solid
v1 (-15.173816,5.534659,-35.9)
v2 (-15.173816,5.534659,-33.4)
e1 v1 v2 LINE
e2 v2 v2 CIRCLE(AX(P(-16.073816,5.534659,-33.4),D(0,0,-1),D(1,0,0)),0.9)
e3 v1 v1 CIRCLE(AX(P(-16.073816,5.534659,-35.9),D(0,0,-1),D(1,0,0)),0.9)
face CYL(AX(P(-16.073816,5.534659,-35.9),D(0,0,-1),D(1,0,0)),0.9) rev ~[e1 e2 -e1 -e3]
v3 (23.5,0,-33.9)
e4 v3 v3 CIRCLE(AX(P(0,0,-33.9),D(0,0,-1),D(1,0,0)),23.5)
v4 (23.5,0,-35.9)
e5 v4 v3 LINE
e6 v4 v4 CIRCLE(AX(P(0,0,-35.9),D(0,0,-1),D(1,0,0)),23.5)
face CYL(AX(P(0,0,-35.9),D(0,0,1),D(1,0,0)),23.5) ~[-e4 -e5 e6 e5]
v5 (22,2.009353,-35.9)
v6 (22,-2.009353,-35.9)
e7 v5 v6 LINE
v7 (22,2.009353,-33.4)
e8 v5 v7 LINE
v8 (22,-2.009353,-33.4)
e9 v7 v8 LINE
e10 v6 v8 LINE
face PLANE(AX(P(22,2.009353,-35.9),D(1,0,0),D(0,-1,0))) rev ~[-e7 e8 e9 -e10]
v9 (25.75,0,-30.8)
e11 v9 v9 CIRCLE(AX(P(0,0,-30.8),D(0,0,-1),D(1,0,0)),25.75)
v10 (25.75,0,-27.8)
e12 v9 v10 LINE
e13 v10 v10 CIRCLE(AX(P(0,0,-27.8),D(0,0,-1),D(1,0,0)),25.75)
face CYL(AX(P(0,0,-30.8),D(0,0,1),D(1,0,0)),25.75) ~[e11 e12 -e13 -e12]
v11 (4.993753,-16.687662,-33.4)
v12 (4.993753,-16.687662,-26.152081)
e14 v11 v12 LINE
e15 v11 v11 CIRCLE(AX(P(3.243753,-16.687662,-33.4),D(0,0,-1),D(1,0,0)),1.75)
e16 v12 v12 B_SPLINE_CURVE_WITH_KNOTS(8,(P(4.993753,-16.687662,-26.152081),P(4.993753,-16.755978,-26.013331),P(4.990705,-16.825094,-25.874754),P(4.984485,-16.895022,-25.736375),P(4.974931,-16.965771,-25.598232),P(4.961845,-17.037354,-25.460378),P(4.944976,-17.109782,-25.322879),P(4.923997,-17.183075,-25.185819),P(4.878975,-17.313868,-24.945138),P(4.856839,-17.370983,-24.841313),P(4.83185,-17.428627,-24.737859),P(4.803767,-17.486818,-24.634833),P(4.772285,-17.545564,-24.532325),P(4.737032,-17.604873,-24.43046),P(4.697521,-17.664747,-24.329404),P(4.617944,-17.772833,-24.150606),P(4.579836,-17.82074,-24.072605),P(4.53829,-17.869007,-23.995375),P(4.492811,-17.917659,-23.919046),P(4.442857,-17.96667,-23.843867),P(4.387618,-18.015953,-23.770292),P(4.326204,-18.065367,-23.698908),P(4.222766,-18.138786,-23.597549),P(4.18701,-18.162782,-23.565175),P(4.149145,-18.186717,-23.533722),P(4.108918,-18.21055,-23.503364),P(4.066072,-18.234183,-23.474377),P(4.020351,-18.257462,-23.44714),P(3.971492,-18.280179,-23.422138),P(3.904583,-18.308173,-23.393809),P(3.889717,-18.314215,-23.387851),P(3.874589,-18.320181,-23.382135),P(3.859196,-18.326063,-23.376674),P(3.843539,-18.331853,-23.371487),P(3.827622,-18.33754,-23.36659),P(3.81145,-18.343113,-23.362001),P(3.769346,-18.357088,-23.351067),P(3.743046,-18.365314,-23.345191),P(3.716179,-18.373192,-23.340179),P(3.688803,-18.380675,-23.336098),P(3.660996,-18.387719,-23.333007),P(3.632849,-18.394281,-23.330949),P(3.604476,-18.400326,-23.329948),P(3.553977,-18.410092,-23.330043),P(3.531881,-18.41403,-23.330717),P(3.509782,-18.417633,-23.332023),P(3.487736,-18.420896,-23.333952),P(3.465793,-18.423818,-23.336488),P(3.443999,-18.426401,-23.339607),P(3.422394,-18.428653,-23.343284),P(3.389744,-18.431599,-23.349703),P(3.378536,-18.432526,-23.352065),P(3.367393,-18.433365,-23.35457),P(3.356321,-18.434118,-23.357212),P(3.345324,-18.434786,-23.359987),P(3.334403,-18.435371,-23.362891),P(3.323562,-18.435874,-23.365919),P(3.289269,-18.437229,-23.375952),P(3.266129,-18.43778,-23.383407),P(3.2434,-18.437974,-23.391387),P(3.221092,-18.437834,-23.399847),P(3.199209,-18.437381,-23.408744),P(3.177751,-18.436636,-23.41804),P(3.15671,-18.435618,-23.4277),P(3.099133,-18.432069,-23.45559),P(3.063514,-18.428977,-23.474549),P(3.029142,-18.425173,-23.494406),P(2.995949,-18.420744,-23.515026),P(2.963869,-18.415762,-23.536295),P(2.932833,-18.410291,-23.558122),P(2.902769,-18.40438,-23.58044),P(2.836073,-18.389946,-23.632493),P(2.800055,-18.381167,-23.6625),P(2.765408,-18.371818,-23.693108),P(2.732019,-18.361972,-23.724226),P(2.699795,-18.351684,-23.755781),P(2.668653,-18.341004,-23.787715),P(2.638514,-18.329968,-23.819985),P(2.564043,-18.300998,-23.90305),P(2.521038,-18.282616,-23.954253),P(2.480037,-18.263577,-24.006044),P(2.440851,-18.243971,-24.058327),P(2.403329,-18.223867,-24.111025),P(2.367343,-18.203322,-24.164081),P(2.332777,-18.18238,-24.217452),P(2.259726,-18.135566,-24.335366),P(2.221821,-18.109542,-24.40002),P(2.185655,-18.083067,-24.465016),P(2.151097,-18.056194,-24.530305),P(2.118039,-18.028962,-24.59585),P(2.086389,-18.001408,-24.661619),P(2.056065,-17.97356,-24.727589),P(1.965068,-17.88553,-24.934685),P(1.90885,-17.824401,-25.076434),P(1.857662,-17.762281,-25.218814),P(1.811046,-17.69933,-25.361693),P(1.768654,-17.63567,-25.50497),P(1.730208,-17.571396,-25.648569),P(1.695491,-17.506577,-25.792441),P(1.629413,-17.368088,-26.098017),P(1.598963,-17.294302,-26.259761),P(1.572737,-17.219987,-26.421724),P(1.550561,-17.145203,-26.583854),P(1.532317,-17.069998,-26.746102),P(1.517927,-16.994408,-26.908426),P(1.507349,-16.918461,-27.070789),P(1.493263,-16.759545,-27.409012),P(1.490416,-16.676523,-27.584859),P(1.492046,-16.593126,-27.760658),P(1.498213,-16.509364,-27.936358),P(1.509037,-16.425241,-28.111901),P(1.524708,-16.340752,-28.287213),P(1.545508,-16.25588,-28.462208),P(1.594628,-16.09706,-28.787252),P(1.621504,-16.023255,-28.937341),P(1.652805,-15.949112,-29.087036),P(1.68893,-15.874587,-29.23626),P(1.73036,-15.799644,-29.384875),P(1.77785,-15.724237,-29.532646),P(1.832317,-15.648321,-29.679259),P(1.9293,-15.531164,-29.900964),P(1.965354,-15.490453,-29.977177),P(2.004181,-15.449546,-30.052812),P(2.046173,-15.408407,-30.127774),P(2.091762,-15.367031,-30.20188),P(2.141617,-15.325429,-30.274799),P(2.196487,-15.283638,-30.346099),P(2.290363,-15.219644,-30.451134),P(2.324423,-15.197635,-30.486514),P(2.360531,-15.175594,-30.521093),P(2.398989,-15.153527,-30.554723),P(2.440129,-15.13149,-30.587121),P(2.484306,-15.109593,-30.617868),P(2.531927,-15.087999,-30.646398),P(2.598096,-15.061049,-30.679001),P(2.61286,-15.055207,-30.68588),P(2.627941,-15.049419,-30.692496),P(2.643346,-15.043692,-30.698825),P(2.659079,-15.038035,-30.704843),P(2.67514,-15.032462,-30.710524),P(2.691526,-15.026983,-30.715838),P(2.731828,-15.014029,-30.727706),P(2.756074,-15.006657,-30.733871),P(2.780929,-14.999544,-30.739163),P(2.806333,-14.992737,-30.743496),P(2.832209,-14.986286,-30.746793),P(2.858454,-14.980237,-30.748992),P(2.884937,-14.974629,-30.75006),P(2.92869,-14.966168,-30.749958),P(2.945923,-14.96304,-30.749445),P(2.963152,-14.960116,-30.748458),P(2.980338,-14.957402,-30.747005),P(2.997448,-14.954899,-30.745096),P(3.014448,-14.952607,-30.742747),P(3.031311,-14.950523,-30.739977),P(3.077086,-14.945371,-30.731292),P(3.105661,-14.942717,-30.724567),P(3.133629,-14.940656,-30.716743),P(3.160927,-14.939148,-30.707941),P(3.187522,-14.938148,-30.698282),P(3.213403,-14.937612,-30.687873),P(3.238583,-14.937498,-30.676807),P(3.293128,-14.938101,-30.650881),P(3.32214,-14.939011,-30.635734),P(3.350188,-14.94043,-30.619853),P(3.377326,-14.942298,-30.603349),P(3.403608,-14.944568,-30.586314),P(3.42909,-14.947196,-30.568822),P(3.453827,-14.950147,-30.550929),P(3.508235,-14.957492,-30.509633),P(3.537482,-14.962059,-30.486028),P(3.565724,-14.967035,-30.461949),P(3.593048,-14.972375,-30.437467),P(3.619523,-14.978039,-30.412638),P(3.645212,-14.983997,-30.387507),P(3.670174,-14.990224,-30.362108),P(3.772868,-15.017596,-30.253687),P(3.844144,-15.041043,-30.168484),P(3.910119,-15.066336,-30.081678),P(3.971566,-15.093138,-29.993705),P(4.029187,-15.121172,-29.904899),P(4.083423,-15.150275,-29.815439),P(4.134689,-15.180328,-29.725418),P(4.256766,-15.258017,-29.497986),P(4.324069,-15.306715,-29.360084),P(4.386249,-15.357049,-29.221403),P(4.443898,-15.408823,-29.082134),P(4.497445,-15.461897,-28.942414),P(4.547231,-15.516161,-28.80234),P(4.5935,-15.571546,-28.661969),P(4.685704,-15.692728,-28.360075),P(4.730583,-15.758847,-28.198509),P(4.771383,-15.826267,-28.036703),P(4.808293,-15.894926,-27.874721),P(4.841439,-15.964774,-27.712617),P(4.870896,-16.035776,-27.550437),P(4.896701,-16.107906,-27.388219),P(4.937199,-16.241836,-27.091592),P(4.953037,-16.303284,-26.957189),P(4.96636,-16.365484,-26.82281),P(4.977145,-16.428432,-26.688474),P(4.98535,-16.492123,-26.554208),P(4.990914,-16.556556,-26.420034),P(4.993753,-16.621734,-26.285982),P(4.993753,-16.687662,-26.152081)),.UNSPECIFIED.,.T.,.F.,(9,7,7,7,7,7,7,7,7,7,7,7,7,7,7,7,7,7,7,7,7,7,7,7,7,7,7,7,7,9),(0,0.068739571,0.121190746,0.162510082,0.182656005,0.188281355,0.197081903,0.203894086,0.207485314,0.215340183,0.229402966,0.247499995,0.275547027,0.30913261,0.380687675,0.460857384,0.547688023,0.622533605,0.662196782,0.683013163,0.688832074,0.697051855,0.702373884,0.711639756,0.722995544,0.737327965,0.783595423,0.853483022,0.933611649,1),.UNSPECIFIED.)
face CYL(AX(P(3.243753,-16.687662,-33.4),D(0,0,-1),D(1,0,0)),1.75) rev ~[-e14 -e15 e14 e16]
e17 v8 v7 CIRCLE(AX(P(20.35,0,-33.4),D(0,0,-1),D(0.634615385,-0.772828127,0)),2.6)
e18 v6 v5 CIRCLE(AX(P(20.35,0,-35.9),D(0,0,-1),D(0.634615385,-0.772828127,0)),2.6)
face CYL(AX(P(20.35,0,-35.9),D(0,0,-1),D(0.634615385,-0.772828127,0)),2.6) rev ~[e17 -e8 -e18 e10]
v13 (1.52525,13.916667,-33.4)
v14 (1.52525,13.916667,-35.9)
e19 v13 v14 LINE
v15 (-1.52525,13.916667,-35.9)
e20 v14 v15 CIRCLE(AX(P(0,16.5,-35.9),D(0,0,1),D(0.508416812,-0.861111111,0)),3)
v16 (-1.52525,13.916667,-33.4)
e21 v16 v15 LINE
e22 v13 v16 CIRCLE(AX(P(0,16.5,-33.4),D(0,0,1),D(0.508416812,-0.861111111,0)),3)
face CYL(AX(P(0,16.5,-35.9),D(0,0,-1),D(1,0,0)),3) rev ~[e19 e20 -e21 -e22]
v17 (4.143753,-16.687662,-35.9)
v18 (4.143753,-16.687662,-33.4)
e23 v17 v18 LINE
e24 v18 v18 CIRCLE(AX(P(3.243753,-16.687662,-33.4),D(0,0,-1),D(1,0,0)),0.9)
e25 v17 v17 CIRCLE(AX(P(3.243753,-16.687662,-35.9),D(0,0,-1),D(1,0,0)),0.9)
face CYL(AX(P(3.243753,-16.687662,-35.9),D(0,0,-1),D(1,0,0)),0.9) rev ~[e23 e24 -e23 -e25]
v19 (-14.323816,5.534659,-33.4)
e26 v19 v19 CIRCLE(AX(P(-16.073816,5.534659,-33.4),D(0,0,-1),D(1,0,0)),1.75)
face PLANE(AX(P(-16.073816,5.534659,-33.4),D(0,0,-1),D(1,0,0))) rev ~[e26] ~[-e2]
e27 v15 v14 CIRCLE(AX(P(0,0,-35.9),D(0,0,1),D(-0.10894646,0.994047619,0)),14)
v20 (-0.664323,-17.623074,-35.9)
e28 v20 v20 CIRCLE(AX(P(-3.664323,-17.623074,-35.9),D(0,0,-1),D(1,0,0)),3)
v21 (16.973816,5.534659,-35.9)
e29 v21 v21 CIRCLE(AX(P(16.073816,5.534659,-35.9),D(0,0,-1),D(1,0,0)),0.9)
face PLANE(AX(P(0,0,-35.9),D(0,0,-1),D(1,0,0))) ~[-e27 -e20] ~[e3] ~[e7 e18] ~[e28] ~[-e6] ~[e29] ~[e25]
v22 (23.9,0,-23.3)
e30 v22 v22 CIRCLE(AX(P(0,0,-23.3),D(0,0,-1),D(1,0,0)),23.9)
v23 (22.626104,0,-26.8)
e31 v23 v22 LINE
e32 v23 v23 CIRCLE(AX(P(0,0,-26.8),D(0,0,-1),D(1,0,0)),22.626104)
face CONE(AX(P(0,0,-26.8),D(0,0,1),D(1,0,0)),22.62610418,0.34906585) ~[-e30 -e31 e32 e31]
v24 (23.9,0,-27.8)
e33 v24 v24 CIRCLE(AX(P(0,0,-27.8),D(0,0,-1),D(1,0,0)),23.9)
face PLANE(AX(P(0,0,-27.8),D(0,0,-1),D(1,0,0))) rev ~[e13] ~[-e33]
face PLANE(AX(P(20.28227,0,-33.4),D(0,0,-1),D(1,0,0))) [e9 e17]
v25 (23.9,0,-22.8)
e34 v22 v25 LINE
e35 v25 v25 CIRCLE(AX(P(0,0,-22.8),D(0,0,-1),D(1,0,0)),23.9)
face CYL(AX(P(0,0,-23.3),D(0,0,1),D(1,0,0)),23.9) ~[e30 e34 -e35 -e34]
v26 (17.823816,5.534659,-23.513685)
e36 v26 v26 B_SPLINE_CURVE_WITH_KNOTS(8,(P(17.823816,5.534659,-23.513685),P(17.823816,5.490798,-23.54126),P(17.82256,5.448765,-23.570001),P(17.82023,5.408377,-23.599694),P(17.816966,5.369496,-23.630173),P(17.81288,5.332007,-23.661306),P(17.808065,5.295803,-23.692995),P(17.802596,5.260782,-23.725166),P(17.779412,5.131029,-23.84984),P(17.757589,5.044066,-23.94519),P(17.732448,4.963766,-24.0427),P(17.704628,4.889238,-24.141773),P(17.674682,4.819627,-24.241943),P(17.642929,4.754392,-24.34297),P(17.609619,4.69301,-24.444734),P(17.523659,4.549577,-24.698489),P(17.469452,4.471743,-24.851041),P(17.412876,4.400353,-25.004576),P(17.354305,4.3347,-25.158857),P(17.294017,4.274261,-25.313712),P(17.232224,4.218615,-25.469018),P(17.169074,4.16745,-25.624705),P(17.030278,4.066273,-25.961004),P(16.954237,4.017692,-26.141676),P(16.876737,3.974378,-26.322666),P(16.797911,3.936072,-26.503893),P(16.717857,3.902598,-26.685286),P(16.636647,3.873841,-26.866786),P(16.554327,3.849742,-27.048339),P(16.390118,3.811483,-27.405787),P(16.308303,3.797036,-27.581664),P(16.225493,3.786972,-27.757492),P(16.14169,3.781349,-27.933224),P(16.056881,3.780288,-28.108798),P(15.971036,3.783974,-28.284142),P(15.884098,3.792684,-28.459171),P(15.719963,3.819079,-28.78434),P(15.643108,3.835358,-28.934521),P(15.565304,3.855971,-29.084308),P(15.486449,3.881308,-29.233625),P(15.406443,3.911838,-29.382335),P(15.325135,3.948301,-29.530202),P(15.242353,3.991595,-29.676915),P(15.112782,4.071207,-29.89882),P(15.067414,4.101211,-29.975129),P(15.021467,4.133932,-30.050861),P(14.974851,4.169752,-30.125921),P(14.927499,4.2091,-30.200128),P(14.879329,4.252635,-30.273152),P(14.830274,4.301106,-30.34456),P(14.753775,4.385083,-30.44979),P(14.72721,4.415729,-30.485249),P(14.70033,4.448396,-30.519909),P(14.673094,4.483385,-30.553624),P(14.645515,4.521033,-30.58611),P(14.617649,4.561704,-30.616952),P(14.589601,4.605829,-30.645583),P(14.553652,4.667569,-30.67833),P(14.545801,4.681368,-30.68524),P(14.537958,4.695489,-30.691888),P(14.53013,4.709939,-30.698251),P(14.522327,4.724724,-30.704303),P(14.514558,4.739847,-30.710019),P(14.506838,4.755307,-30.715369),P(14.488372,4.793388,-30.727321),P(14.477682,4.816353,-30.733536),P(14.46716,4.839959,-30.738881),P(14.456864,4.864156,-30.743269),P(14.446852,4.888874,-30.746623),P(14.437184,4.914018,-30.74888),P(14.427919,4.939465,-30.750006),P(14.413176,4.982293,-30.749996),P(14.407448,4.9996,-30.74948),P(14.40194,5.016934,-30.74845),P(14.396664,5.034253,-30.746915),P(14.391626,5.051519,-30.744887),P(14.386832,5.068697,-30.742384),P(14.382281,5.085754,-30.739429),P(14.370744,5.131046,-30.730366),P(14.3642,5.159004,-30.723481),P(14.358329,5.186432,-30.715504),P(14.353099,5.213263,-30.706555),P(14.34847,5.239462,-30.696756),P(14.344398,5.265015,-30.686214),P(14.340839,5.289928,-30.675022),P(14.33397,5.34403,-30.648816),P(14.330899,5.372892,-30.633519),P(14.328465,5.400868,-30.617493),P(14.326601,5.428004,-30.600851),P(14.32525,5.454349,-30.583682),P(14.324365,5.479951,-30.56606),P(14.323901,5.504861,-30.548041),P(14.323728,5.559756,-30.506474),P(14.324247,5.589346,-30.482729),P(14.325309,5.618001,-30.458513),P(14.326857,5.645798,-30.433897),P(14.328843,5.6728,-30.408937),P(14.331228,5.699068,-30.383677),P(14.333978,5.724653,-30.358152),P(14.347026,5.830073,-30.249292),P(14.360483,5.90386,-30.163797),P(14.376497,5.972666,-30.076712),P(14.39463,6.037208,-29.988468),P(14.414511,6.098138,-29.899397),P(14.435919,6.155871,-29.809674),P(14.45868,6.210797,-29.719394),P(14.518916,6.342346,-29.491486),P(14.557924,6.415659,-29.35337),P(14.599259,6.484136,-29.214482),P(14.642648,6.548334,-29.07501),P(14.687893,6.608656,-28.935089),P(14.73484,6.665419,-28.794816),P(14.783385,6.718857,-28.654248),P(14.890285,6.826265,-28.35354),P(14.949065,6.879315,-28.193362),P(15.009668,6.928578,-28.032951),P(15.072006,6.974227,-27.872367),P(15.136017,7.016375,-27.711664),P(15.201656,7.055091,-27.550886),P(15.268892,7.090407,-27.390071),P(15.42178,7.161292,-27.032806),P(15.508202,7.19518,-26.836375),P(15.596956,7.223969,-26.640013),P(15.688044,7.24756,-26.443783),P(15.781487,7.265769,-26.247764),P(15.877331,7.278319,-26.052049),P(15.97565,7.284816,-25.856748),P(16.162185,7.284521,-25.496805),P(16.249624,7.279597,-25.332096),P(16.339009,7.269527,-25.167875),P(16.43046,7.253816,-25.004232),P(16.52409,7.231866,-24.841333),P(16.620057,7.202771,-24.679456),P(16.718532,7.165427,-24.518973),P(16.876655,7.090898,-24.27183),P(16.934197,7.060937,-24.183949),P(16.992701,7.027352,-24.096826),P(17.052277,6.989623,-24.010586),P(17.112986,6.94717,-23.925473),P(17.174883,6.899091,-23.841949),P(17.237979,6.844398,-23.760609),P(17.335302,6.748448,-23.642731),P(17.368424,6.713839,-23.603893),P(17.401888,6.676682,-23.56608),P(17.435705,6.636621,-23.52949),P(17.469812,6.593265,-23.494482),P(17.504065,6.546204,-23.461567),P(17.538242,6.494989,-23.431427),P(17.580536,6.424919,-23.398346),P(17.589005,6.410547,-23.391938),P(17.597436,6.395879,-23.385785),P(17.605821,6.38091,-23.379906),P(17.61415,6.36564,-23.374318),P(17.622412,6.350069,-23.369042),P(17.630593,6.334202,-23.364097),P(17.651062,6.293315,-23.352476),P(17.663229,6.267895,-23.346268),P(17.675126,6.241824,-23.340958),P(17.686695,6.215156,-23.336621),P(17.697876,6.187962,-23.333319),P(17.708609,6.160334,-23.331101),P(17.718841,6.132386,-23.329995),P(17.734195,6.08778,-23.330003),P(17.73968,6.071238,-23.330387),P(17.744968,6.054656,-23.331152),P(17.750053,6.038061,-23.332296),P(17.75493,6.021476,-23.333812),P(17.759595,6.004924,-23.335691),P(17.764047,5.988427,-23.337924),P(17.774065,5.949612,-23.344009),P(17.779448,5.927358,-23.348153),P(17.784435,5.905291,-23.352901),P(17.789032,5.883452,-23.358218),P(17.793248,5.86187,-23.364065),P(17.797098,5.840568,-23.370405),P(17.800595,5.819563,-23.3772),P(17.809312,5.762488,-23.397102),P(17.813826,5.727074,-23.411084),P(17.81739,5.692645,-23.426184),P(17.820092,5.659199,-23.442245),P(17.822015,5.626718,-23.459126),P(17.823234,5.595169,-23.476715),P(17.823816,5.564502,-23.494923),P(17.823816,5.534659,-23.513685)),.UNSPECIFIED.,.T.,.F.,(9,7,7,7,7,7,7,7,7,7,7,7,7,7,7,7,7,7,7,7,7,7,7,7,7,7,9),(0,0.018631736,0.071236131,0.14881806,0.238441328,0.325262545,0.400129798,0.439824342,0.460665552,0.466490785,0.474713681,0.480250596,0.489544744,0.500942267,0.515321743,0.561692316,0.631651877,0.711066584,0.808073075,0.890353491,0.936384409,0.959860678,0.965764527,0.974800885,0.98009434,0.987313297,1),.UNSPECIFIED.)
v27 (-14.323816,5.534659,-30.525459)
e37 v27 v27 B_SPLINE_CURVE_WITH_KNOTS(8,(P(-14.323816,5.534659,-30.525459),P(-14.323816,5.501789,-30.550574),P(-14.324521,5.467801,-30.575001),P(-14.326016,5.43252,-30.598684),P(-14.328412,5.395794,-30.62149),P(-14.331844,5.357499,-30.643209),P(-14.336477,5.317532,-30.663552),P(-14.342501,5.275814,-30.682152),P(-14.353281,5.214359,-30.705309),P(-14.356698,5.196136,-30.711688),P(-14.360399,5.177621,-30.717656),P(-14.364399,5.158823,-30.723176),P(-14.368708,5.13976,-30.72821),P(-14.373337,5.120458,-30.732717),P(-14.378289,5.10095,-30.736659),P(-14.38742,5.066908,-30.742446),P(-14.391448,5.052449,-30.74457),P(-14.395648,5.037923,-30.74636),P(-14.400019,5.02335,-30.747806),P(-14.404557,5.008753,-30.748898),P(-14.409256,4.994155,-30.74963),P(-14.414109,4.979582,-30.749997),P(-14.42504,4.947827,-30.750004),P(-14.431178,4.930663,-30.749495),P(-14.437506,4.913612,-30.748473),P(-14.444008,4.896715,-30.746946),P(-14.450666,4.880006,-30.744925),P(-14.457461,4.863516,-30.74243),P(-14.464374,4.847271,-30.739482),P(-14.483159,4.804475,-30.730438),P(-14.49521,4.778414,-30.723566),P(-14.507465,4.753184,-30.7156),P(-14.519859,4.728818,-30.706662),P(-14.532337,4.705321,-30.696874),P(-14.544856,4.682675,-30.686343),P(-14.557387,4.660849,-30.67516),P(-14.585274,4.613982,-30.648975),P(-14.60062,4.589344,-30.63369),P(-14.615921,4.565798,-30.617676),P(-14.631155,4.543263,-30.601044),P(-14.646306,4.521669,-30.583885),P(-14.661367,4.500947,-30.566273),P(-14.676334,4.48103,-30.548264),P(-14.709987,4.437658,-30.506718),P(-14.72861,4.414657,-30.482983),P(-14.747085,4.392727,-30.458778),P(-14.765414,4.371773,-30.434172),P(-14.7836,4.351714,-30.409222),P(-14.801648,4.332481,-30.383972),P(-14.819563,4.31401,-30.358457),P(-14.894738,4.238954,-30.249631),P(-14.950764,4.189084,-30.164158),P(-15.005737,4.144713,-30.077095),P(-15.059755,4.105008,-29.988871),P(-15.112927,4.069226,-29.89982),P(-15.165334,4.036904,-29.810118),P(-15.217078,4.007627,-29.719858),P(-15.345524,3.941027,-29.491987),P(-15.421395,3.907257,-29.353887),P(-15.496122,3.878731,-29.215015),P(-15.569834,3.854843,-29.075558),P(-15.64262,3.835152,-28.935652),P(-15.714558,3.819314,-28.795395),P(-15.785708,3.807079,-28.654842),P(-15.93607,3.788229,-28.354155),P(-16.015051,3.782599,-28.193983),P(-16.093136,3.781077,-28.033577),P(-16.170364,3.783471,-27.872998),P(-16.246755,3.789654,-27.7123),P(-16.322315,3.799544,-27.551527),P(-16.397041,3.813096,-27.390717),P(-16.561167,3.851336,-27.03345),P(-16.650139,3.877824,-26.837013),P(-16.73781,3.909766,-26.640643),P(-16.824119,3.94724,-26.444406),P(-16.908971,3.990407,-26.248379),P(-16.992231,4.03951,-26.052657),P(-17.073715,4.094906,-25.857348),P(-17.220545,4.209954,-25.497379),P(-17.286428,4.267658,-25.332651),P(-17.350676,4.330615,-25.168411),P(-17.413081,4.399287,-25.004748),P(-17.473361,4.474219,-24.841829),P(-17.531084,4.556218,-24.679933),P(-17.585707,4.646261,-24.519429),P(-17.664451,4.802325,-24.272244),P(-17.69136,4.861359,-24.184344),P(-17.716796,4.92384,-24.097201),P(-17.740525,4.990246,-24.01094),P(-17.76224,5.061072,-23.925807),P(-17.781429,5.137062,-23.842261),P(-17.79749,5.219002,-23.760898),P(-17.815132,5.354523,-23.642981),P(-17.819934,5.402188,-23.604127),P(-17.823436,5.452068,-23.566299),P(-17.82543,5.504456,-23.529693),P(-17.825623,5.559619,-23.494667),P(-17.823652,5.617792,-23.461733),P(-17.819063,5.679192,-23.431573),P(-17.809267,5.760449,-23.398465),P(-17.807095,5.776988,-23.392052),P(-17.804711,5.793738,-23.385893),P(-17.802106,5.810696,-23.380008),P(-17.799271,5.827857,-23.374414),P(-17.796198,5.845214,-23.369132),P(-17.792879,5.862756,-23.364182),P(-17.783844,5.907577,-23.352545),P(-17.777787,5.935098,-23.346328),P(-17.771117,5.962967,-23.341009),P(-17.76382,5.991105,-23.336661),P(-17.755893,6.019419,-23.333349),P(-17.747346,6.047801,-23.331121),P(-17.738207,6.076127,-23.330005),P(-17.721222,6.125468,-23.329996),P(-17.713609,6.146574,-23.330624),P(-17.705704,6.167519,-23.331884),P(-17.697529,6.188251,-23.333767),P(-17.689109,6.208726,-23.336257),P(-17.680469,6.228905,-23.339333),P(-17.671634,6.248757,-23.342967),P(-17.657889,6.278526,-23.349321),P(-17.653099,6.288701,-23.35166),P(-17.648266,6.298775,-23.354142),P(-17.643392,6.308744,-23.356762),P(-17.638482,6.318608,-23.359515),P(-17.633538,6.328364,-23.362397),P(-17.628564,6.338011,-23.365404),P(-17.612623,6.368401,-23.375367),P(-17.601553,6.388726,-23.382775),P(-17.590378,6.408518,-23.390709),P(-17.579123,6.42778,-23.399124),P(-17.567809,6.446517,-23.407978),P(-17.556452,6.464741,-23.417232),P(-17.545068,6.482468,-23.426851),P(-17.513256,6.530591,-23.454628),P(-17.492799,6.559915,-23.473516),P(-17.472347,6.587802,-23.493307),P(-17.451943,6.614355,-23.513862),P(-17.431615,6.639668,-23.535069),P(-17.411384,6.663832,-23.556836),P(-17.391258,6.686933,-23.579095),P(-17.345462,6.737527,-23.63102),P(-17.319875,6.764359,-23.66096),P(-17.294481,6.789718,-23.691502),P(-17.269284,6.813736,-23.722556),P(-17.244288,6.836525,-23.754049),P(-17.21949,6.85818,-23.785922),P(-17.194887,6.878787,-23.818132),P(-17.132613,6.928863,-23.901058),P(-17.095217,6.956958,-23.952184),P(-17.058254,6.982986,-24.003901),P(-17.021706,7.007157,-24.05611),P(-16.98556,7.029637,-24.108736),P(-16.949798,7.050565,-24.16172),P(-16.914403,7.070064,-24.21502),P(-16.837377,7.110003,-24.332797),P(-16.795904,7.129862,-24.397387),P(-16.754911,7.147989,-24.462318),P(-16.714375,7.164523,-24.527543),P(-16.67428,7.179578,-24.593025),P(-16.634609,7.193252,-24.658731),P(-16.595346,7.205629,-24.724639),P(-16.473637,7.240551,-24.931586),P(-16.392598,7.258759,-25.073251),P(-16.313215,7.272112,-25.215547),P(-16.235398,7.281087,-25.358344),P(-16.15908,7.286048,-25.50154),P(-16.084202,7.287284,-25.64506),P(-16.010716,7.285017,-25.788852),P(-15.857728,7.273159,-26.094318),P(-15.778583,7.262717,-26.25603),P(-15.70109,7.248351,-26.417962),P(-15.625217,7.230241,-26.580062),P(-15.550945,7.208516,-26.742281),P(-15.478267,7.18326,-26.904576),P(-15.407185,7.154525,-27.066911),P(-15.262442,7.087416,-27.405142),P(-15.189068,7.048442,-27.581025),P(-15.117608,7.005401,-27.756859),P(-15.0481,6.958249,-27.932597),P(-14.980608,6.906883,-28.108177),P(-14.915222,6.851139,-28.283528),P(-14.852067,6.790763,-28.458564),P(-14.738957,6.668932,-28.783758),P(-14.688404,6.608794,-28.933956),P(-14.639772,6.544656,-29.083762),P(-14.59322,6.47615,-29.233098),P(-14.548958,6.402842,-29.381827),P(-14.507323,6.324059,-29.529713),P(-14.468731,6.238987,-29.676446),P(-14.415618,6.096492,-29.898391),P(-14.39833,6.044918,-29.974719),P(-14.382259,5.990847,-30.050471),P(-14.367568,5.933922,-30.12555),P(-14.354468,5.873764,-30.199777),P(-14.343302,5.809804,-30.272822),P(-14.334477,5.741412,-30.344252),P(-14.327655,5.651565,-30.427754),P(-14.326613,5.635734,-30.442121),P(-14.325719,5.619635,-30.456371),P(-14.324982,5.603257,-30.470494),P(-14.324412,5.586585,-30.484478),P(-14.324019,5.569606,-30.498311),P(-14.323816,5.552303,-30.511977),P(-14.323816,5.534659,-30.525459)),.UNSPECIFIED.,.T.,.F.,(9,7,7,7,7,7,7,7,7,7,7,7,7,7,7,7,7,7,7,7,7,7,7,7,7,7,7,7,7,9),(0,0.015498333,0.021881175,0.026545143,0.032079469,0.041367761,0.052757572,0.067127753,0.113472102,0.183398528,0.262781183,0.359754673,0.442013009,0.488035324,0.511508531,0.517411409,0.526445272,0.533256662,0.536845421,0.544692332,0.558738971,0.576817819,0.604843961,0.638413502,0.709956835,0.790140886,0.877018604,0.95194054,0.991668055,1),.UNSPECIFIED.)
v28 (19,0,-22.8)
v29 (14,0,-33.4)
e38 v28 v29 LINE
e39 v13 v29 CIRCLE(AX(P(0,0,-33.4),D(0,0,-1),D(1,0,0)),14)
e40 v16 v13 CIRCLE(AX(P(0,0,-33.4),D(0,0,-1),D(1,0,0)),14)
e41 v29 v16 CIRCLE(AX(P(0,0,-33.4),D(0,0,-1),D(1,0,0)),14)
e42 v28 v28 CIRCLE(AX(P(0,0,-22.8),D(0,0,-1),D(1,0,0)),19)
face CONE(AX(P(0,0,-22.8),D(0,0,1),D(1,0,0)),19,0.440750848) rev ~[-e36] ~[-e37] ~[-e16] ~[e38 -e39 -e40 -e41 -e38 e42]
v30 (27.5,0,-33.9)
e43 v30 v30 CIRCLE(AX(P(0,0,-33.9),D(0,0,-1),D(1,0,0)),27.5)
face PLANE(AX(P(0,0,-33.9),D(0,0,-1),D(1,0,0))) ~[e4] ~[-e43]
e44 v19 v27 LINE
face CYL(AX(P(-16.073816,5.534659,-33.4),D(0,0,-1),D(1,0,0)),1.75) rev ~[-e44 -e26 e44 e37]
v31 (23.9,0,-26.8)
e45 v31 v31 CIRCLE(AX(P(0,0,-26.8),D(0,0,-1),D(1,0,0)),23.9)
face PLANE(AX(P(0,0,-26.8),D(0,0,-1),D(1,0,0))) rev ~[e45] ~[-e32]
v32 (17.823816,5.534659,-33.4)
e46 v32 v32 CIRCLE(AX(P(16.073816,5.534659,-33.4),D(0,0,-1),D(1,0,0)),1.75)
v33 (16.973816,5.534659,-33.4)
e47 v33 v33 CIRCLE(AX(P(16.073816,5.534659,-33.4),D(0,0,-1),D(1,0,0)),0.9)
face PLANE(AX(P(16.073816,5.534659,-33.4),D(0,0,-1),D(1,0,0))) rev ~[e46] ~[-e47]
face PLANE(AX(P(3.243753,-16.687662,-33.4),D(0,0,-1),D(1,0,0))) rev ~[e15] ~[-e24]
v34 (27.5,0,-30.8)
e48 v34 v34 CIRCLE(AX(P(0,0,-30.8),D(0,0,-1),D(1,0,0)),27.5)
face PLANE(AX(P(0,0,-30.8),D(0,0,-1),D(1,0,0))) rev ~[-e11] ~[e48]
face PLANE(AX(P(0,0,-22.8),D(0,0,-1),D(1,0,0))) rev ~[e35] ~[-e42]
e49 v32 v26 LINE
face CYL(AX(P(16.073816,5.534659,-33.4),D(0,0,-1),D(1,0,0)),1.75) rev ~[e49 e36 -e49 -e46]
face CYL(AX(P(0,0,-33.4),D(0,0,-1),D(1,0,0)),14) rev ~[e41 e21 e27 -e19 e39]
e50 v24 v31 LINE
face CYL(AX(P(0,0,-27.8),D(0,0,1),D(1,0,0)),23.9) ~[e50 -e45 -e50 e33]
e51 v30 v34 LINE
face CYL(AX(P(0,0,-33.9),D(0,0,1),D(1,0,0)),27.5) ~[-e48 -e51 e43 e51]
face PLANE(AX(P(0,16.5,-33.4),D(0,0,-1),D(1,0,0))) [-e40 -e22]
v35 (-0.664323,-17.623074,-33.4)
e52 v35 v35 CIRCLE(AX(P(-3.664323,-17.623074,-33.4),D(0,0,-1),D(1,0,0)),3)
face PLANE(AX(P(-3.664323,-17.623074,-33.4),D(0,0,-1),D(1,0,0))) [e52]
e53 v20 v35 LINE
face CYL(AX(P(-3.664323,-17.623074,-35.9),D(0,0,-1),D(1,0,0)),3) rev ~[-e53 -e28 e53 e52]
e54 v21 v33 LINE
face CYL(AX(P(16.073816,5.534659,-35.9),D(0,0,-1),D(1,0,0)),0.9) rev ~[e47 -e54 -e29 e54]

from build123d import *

# Parameters (mm, degrees)
F2_R     = 0.9
F3_DEPTH = 2.5
F4_R     = 3
F5_DEPTH = 2.5
F6_R     = 1.75
F7_DEPTH = 10.0710001


with BuildPart() as f1:
    # F0 (on Front) → F1 (revolve)
    with BuildSketch(Plane.XZ):
        Polygon((14, -35.9), (23.5, -35.9), (23.5, -33.9), (27.5, -33.9), (27.5, -30.8), (25.75, -30.8), (25.75, -27.8), (23.9, -27.8), (23.9, -26.8), (22.6261041801, -26.8), (23.9, -23.3), (23.9, -22.8), (19, -22.8), (14, -33.4), align=None)
    revolve(axis=Axis((0, 0, -3.8875962891), (0, 0, -1)))

    # F2 (on face) → F3 (cut)
    with BuildSketch(Plane(origin=(0, 0, -35.9), x_dir=(1, 0, 0), z_dir=(0, 0, -1))):
        with Locations((3.2437529214, 16.6876621186)):
            Circle(F2_R)
        with Locations((16.0738157852, -5.5346586258)):
            Circle(F2_R)
        with Locations((-16.0738157852, -5.5346586258)):
            Circle(F2_R)
    extrude(amount=-F3_DEPTH, mode=Mode.SUBTRACT)

    # F4 (on face) → F5 (cut)
    with BuildSketch(Plane(origin=(0, 0, -35.9), x_dir=(1, 0, 0), z_dir=(0, 0, -1))):
        with BuildLine():
            Line((22, -2.0093531297), (22, 2.0093531297))
            ThreePointArc((22, 2.0093531297), (17.75, 0), (22, -2.0093531297))
        make_face()
        with Locations((-3.6643229153, 17.6230740103)):
            Circle(F4_R)
        with Locations((0, -16.5)):
            Circle(F4_R)
    extrude(amount=-F5_DEPTH, mode=Mode.SUBTRACT)

    # F6 (on face) → F7 (cut, through all)
    with BuildSketch(Plane(origin=(0, 0, -33.4), x_dir=(1, 0, 0), z_dir=(0, 0, -1))):
        with Locations((3.2437529214, 16.6876621186)):
            Circle(F6_R)
        with Locations((-16.0738157852, -5.5346586258)):
            Circle(F6_R)
        with Locations((16.0738157852, -5.5346586258)):
            Circle(F6_R)
    extrude(amount=-F7_DEPTH, mode=Mode.SUBTRACT)


solid = f1.part
